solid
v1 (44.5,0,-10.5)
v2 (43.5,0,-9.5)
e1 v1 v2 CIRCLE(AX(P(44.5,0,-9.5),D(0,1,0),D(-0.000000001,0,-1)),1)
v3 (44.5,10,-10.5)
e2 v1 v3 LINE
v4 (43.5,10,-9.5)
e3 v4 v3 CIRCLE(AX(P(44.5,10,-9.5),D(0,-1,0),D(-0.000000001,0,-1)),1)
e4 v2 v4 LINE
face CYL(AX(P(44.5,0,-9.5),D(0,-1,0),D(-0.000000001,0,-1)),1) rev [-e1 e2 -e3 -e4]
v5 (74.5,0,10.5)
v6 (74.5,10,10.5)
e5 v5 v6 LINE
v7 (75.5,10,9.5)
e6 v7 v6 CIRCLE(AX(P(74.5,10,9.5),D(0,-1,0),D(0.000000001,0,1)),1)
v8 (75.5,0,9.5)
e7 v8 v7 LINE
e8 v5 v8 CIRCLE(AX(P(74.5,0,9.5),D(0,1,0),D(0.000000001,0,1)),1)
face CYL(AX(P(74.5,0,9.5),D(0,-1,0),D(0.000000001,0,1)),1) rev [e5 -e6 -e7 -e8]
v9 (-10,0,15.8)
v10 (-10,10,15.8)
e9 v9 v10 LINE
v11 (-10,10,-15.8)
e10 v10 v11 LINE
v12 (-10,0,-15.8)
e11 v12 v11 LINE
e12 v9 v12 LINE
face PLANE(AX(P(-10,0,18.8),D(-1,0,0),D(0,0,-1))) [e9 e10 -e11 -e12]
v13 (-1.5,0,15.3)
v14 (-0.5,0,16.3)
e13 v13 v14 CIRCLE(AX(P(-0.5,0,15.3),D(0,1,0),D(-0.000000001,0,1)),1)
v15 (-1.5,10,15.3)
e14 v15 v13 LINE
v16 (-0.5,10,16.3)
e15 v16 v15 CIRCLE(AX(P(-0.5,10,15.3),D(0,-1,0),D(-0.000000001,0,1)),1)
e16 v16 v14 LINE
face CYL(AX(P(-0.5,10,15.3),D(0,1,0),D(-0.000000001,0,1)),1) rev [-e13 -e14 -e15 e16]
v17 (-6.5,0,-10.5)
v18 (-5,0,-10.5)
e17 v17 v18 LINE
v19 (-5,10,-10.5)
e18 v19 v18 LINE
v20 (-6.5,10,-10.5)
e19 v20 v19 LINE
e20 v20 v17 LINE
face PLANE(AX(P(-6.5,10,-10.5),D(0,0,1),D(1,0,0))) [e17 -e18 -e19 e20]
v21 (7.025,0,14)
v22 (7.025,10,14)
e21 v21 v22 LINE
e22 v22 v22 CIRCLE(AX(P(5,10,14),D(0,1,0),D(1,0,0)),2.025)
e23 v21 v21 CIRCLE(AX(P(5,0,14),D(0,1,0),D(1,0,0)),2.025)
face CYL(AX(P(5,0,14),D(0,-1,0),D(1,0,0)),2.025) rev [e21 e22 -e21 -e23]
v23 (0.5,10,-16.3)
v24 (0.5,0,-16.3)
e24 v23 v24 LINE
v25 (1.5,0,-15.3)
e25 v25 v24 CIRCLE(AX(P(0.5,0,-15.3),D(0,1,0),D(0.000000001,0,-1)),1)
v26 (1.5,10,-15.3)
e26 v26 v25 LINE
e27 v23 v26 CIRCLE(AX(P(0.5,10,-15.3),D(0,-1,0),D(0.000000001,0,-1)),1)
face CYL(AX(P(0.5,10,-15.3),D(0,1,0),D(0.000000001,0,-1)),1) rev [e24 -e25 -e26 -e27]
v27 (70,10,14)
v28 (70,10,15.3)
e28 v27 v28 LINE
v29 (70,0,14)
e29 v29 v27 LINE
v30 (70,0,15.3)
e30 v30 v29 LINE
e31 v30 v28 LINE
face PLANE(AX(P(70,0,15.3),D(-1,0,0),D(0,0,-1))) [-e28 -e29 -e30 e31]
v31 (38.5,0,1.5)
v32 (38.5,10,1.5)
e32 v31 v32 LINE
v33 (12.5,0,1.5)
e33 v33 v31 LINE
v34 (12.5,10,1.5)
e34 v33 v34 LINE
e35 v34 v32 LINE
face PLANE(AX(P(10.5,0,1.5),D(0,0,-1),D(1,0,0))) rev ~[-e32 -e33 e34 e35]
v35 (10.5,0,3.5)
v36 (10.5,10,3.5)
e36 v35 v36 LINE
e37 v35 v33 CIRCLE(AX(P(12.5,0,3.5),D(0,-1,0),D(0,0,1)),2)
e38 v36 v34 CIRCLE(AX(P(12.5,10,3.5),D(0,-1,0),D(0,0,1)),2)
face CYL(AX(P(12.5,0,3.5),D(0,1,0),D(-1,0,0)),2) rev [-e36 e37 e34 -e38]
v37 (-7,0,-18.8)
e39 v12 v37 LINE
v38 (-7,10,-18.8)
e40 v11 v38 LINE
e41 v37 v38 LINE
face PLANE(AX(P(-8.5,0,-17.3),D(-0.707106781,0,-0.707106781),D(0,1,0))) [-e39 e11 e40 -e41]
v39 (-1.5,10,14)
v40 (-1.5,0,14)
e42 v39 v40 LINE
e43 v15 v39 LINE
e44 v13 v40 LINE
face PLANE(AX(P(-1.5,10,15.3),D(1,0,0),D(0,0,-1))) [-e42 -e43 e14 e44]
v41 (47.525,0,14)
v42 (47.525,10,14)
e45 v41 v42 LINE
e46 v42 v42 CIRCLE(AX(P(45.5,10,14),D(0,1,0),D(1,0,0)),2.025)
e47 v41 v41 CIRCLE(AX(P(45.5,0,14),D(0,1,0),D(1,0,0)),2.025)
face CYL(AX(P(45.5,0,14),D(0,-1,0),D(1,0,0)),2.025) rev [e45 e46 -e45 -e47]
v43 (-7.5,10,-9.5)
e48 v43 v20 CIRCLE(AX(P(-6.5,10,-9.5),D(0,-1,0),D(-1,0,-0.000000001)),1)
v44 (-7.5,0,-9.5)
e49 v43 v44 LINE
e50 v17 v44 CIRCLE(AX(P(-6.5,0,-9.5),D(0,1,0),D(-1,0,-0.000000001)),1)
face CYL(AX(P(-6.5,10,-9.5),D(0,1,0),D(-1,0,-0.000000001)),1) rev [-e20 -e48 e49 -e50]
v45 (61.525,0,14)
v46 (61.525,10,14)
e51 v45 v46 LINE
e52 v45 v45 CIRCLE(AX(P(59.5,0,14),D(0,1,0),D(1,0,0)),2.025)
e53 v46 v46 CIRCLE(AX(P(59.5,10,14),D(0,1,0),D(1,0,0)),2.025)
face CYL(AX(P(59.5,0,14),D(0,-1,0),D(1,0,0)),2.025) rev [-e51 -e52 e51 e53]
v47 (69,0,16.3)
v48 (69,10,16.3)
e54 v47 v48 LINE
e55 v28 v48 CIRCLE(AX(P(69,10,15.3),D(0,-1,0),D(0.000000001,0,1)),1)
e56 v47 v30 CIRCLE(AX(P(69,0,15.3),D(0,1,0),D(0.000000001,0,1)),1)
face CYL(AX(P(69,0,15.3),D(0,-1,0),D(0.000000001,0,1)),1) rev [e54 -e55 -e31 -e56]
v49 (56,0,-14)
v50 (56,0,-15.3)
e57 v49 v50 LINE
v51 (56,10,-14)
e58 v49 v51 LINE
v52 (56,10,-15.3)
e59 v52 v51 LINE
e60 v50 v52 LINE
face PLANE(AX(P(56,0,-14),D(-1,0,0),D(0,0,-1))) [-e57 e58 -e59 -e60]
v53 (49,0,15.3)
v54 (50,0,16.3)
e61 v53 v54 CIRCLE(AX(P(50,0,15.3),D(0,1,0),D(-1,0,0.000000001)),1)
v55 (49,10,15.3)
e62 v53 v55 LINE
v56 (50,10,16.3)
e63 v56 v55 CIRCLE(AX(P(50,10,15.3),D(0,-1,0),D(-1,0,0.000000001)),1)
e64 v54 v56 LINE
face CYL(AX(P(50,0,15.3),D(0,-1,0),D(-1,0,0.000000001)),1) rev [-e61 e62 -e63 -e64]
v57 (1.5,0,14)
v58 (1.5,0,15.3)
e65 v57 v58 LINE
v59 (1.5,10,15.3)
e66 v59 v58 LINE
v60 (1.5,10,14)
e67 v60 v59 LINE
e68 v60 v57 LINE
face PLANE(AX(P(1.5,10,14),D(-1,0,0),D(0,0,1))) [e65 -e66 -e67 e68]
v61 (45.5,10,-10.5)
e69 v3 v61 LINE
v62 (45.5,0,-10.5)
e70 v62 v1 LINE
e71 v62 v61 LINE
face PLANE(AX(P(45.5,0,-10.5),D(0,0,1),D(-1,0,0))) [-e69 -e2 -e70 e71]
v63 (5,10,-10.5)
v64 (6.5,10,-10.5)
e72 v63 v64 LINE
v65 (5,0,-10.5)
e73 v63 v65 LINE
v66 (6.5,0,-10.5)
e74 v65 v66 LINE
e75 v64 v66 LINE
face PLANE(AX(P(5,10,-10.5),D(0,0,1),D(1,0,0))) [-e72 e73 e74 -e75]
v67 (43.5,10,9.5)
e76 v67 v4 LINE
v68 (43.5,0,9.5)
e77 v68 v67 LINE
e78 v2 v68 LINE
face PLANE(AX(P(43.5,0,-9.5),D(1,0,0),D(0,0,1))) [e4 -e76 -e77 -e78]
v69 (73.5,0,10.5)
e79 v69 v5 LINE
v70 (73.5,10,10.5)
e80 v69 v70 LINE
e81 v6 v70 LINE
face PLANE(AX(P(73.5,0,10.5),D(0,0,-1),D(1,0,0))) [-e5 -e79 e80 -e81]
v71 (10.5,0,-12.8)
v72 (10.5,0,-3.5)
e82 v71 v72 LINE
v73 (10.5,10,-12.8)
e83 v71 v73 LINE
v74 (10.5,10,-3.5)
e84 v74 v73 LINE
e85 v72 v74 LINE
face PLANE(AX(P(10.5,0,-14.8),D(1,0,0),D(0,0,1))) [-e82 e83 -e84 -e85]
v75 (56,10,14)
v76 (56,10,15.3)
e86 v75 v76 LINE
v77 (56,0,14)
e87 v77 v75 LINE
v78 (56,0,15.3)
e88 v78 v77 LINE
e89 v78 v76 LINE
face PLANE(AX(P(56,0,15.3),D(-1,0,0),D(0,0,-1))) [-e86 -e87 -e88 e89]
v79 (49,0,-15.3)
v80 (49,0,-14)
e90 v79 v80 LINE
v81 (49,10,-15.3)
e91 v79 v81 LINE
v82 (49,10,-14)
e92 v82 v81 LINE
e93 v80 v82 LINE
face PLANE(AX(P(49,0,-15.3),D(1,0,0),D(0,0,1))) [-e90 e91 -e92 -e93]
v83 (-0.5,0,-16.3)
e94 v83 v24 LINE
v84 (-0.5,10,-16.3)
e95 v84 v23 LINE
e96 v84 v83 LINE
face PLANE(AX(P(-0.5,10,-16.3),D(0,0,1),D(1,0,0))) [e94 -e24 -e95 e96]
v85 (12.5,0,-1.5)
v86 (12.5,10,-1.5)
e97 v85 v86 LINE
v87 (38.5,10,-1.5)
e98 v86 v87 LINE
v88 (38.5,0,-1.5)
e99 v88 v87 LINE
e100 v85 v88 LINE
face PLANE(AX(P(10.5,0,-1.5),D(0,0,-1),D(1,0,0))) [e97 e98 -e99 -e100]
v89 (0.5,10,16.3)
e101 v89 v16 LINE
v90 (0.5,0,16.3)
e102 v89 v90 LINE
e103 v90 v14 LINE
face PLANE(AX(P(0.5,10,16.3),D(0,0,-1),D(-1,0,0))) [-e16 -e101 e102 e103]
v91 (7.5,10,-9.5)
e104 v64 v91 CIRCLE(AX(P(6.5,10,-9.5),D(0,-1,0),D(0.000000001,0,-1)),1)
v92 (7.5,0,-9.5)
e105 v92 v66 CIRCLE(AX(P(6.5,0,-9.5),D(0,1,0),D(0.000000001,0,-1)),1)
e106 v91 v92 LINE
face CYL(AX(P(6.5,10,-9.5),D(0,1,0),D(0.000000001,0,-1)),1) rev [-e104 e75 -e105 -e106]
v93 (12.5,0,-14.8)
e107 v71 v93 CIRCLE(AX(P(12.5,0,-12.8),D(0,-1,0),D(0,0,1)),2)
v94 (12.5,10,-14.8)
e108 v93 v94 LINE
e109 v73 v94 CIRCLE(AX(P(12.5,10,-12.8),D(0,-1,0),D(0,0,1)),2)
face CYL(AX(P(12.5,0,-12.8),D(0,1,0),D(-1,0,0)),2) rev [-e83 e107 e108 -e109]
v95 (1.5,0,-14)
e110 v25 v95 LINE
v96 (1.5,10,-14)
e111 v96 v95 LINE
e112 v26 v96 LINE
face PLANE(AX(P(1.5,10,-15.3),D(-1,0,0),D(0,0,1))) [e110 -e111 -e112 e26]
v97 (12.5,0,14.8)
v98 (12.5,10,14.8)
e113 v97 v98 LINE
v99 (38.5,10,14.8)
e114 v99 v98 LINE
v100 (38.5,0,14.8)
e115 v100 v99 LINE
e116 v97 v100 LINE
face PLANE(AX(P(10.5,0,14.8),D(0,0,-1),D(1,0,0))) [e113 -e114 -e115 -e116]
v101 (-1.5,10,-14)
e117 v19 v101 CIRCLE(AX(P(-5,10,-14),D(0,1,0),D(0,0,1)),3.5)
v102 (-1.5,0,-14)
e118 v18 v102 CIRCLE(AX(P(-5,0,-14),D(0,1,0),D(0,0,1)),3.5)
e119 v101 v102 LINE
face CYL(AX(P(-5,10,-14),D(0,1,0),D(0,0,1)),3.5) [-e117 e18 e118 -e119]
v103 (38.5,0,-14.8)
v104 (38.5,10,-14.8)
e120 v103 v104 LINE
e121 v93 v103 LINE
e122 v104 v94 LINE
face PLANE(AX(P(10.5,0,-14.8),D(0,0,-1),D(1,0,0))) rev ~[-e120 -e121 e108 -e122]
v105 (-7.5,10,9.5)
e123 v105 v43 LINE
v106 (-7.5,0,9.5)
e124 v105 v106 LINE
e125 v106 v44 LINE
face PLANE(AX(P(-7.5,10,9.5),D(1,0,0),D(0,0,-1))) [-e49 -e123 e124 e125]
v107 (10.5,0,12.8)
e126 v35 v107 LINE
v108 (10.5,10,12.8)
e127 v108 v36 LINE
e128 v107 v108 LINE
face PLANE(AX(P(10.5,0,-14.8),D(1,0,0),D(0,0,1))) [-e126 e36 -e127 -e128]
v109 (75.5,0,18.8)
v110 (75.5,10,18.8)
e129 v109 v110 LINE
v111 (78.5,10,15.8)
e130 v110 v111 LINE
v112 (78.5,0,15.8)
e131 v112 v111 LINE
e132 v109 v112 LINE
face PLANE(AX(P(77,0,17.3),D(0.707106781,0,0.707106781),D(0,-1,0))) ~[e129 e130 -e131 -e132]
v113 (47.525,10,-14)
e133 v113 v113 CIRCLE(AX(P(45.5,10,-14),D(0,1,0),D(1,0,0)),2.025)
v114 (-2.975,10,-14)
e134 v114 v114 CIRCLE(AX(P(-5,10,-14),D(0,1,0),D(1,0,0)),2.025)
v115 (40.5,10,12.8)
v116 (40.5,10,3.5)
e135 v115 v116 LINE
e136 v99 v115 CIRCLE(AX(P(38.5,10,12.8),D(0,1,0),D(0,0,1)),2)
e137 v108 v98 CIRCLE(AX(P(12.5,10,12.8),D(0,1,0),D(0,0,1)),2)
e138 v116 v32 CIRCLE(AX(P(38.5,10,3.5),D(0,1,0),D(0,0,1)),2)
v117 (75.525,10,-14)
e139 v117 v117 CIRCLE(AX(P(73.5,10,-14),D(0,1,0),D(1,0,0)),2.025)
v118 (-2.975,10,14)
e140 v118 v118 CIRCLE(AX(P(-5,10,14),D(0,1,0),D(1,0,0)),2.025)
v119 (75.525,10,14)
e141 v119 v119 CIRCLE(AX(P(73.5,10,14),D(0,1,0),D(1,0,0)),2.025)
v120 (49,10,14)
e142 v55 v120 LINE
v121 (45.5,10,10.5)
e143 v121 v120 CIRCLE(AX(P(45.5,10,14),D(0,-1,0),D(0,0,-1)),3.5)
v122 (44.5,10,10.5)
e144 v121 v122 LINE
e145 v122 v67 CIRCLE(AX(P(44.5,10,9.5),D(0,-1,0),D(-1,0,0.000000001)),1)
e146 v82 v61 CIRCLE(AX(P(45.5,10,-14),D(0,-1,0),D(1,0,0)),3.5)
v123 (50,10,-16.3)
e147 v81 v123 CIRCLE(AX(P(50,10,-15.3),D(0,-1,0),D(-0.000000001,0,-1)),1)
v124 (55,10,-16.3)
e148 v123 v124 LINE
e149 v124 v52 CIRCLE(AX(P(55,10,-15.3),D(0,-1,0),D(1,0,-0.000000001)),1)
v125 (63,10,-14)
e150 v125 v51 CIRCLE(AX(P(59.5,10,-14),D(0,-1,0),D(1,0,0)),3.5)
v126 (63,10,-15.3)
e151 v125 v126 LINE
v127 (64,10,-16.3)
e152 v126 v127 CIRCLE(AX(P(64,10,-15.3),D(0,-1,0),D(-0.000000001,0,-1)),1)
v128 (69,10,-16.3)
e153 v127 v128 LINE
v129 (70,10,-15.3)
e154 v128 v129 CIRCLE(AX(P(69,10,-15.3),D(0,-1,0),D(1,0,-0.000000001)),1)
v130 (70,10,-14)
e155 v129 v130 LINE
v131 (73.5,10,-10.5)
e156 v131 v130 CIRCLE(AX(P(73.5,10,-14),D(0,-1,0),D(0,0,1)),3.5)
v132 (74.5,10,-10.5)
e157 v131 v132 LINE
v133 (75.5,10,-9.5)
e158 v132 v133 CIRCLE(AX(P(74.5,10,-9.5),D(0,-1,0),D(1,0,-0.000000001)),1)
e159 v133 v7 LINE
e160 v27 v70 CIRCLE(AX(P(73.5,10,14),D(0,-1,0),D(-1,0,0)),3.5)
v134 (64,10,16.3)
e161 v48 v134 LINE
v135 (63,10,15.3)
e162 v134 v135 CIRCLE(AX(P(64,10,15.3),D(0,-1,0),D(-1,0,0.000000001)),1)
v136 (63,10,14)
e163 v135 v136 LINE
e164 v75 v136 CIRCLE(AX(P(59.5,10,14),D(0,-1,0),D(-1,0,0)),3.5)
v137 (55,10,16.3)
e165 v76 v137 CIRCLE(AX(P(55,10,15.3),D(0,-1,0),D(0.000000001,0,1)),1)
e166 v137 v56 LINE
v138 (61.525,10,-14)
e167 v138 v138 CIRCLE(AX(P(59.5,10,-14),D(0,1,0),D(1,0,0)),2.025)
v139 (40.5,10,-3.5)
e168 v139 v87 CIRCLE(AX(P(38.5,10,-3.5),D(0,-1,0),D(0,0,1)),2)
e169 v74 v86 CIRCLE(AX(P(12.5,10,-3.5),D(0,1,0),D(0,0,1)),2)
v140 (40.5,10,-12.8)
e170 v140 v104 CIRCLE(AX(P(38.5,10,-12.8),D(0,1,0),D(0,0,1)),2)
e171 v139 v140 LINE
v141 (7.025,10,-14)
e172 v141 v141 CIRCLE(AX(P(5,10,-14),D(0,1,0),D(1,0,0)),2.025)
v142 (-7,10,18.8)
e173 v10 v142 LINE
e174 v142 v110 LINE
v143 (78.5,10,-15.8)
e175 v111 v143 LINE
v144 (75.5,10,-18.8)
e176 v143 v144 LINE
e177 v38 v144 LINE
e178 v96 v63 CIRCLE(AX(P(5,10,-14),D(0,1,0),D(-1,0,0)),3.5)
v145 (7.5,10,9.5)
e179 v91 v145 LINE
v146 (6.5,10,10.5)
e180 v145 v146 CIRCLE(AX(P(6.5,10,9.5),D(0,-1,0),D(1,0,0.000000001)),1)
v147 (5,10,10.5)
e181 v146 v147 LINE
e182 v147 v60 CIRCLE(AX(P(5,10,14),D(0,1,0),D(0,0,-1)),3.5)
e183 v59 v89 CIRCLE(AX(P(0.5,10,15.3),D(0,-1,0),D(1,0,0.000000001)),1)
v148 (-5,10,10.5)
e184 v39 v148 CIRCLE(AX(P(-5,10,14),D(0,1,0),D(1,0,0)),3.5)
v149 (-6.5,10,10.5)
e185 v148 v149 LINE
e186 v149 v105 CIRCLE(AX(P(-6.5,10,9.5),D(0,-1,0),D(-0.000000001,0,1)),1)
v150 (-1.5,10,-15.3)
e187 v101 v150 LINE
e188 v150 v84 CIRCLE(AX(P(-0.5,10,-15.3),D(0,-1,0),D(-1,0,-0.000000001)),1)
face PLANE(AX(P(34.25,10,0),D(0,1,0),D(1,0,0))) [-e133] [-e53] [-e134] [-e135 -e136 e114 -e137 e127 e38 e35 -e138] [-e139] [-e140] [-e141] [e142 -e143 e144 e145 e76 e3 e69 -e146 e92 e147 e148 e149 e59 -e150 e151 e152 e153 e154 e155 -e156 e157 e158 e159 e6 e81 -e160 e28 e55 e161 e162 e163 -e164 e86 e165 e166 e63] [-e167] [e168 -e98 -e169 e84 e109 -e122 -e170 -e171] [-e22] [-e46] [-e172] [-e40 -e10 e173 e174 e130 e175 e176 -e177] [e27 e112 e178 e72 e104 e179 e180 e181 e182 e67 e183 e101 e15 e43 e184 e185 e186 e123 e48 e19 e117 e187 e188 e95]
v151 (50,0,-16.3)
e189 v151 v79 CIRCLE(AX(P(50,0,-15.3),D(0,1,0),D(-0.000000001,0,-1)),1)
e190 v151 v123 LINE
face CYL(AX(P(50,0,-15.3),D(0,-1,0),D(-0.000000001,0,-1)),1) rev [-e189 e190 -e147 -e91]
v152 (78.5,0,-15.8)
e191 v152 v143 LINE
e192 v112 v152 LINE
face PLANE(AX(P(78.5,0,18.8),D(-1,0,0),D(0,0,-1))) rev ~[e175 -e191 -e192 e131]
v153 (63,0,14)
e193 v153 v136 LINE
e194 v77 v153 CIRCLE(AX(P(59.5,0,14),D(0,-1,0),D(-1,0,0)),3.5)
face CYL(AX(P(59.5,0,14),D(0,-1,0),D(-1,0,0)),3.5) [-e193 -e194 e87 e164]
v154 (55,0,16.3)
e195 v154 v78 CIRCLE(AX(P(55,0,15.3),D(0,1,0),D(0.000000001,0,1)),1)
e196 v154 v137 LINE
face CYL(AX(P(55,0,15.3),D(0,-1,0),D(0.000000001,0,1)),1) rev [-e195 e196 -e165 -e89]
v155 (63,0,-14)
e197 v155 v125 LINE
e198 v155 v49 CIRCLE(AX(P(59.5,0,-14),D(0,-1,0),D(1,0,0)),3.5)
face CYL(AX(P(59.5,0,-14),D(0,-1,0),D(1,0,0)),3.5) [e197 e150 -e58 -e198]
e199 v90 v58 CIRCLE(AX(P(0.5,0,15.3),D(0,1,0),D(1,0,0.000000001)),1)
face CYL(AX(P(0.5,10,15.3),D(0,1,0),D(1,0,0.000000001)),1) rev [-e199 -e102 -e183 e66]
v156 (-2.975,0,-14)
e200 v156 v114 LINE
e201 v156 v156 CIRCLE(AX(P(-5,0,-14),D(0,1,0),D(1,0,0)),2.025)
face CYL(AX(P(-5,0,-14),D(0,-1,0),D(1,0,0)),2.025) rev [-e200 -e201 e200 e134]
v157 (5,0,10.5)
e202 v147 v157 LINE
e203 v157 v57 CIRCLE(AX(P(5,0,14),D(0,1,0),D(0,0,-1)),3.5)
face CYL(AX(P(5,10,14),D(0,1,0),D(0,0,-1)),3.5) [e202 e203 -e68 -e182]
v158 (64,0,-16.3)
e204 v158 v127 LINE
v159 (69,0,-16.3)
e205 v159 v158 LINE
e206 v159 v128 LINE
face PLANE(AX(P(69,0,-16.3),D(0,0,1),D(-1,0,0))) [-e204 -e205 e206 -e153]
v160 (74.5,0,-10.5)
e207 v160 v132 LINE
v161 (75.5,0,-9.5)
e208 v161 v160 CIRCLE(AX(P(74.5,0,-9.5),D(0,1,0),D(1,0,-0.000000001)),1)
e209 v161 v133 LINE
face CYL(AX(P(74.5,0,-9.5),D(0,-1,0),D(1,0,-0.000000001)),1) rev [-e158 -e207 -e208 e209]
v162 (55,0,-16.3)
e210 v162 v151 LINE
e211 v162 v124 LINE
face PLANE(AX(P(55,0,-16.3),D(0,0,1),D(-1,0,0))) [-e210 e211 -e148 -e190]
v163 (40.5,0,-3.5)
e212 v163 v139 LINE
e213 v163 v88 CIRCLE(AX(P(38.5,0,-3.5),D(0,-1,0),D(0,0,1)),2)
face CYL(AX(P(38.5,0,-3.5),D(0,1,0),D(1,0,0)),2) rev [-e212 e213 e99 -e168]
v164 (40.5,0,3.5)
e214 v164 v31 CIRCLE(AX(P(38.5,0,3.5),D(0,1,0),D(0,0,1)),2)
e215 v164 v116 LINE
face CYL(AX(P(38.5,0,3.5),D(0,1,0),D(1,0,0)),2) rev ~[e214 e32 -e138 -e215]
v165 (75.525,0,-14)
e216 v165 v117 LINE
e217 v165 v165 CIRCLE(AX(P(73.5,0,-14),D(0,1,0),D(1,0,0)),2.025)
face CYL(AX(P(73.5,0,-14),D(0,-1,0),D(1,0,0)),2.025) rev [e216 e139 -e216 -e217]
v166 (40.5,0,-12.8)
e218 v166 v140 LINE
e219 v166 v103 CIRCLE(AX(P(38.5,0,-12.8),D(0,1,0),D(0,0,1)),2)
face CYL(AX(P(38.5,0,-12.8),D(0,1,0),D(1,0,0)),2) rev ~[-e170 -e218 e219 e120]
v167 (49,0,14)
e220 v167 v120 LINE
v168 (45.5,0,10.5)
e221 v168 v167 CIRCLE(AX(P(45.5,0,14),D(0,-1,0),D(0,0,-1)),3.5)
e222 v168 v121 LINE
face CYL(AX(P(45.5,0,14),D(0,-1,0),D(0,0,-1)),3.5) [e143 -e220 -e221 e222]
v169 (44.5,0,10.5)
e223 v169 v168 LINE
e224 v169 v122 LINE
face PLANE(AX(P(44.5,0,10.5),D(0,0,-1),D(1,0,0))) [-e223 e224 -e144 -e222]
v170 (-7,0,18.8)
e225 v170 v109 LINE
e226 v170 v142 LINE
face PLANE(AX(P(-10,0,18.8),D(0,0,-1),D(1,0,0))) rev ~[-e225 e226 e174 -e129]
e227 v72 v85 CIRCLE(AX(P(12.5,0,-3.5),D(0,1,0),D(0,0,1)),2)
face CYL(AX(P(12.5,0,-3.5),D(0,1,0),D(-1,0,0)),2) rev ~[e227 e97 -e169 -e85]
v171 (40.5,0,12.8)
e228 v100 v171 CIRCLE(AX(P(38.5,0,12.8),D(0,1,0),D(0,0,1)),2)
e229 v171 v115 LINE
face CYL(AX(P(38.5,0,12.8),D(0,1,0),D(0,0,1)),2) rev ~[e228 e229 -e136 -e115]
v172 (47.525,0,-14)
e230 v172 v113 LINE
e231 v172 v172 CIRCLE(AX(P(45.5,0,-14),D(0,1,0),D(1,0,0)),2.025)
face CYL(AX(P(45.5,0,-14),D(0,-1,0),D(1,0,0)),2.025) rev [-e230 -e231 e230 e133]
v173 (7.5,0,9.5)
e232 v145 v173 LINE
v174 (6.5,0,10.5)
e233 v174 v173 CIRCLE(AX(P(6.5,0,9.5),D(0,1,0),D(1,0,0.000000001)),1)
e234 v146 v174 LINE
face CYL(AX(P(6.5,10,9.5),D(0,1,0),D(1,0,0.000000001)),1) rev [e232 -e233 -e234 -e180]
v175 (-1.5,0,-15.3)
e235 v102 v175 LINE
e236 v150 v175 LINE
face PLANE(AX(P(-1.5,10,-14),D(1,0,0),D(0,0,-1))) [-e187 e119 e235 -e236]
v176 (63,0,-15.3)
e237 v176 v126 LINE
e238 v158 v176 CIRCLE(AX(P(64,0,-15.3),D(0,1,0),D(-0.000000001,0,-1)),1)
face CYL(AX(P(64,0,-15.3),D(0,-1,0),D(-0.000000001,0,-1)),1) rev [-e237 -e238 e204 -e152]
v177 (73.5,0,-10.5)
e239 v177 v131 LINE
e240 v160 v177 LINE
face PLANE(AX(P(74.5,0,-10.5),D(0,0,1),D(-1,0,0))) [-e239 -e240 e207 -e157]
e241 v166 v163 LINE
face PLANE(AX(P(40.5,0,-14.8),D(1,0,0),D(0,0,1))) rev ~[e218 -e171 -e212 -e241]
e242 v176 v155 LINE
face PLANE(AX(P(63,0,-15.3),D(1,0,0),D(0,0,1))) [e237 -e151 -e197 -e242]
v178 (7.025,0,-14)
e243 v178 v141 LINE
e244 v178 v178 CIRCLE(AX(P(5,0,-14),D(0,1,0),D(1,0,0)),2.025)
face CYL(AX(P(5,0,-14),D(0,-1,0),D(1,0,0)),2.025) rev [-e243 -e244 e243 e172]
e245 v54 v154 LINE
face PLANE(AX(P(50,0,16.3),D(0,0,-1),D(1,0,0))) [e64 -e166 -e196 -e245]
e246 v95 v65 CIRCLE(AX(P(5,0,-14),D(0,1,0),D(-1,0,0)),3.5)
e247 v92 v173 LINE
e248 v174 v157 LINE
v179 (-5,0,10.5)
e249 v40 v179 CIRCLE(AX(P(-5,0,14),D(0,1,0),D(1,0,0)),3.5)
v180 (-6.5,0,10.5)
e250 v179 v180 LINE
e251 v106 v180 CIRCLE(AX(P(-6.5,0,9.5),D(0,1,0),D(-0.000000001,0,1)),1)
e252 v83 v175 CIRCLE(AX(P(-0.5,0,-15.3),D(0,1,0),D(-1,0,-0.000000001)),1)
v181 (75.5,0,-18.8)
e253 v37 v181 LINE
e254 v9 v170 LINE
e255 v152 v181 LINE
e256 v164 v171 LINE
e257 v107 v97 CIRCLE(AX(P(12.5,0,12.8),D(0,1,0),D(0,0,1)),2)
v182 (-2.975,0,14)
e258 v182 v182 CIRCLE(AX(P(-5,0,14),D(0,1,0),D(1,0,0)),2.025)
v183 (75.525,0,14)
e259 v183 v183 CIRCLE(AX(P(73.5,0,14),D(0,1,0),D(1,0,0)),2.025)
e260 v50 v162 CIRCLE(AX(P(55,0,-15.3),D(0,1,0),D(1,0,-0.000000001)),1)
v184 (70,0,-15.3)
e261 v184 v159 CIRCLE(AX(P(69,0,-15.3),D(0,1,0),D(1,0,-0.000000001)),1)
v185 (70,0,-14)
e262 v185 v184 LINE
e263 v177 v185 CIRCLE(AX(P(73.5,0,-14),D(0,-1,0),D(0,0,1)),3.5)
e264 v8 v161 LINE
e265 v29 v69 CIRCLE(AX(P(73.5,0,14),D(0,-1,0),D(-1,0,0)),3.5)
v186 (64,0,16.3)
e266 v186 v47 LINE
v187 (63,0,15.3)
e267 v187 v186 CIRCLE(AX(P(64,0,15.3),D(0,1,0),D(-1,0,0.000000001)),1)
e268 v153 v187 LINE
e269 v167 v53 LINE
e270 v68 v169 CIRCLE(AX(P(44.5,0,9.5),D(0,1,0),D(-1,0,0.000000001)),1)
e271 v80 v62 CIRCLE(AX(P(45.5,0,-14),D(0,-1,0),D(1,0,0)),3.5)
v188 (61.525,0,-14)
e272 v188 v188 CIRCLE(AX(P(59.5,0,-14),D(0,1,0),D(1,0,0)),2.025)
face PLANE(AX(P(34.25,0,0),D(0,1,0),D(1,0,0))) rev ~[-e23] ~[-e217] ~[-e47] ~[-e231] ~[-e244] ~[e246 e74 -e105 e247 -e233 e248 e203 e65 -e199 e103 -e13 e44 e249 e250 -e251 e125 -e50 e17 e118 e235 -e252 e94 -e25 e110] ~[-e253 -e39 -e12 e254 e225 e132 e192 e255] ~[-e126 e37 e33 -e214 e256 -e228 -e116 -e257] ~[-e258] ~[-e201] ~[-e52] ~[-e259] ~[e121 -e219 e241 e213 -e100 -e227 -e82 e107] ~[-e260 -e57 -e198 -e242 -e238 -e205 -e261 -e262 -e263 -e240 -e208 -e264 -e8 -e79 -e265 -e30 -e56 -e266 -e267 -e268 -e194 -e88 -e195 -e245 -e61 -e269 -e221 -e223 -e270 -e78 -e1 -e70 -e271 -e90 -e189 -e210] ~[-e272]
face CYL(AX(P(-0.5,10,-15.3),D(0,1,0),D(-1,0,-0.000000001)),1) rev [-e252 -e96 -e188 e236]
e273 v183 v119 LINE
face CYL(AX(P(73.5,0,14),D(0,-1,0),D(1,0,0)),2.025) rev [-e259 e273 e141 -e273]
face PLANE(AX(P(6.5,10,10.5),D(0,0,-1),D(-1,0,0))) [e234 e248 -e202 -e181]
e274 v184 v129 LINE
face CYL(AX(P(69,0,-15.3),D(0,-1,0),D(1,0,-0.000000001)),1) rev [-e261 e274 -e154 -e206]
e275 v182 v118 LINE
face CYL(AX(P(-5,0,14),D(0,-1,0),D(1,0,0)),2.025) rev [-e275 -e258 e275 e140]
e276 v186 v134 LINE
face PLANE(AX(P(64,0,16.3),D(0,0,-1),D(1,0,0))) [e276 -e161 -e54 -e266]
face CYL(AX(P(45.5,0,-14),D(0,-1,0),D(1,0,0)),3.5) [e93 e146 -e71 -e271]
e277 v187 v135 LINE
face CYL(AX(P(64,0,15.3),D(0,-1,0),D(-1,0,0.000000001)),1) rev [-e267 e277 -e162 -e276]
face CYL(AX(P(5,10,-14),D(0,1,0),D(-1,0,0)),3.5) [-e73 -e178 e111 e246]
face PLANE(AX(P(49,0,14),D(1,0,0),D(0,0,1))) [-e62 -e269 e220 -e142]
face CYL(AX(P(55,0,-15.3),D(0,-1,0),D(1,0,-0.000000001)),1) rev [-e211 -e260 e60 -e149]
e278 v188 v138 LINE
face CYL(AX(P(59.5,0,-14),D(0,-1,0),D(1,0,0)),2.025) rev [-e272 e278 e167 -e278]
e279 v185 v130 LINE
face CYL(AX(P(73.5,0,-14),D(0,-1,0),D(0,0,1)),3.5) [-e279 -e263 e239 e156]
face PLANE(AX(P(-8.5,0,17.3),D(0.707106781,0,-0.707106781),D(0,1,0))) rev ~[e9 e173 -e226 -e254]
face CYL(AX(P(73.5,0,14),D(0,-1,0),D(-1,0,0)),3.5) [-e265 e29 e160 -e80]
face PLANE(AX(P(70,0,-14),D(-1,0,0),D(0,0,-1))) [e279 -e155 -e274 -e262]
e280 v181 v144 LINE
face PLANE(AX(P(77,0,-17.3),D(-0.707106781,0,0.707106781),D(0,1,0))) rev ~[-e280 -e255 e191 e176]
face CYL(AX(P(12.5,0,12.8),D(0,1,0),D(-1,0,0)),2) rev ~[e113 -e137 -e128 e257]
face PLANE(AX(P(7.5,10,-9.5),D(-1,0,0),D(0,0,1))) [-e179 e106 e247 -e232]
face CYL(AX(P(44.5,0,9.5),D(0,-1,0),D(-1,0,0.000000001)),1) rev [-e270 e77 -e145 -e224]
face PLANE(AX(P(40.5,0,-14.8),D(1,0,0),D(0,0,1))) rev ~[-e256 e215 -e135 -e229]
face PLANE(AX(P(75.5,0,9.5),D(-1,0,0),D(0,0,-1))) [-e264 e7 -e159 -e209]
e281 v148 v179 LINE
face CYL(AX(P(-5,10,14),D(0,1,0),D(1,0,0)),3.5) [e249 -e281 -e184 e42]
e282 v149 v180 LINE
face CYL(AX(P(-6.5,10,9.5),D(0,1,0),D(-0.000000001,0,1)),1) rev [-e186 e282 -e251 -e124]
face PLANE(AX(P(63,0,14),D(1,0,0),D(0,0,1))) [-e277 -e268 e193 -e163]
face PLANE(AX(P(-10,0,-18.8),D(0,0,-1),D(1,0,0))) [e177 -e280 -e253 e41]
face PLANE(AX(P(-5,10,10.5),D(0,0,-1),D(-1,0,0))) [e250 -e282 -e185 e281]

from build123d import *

# Parameters (mm, degrees)
SKETCH_1_W          = 88.5
SKETCH_1_H          = 37.6
SKETCH_1_R          = 2.025
EXTRUDE_1_DEPTH     = 10
CUT_EXTRUDE_1_DEPTH = 11
CUT_EXTRUDE_2_DEPTH = 11
SKETCH_4_W          = 30
SKETCH_4_H          = 29.6
CUT_EXTRUDE_3_DEPTH = 11
SKETCH_5_W          = 30
SKETCH_5_H          = 3
EXTRUDE_2_DEPTH     = 10
FILLET_1_R          = 2
CHAMFER_1_SIZE      = 3


with BuildPart() as part:
    # 草图1 → 凸台-拉伸1 (new body)
    with BuildSketch(Plane(origin=(0, 0, 0), x_dir=(1, 0, 0), z_dir=(0, 1, 0))):
        with Locations((34.25, 0)):
            Rectangle(SKETCH_1_W, SKETCH_1_H)
        with Locations((-5, 14)):
            Circle(SKETCH_1_R, mode=Mode.SUBTRACT)
        with Locations((5, 14)):
            Circle(SKETCH_1_R, mode=Mode.SUBTRACT)
        with Locations((5, -14)):
            Circle(SKETCH_1_R, mode=Mode.SUBTRACT)
        with Locations((-5, -14)):
            Circle(SKETCH_1_R, mode=Mode.SUBTRACT)
        with Locations((45.5, 14)):
            Circle(SKETCH_1_R, mode=Mode.SUBTRACT)
        with Locations((59.5, 14)):
            Circle(SKETCH_1_R, mode=Mode.SUBTRACT)
        with Locations((73.5, 14)):
            Circle(SKETCH_1_R, mode=Mode.SUBTRACT)
        with Locations((73.5, -14)):
            Circle(SKETCH_1_R, mode=Mode.SUBTRACT)
        with Locations((59.5, -14)):
            Circle(SKETCH_1_R, mode=Mode.SUBTRACT)
        with Locations((45.5, -14)):
            Circle(SKETCH_1_R, mode=Mode.SUBTRACT)
    extrude(amount=EXTRUDE_1_DEPTH)

    # 草图2 → 切除-拉伸1 (cut, through all)
    with BuildSketch(Plane(origin=(0, 10, 0), x_dir=(1, 0, 0), z_dir=(0, 1, 0))):
        with BuildLine():
            Line((-7.5, -9.5), (-7.5, 9.5))
            ThreePointArc((-7.5, 9.5), (-7.207106781, 10.207106781), (-6.5, 10.5))
            Line((-6.5, 10.5), (-5, 10.5))
            ThreePointArc((-5, 10.5), (-2.525126266, 11.525126266), (-1.5, 14))
            Line((-1.5, 14), (-1.5, 15.3))
            ThreePointArc((-1.5, 15.3), (-1.207106781, 16.007106781), (-0.5, 16.3))
            Line((-0.5, 16.3), (0.5, 16.3))
            ThreePointArc((0.5, 16.3), (1.207106781, 16.007106781), (1.5, 15.3))
            Line((1.5, 15.3), (1.5, 14))
            ThreePointArc((1.5, 14), (2.525126266, 11.525126266), (5, 10.5))
            Line((5, 10.5), (6.5, 10.5))
            ThreePointArc((6.5, 10.5), (7.207106781, 10.207106781), (7.5, 9.5))
            Line((7.5, 9.5), (7.5, -9.5))
            ThreePointArc((7.5, -9.5), (7.207106781, -10.207106781), (6.5, -10.5))
            Line((6.5, -10.5), (5, -10.5))
            ThreePointArc((5, -10.5), (2.525126266, -11.525126266), (1.5, -14))
            Line((1.5, -14), (1.5, -15.3))
            ThreePointArc((1.5, -15.3), (1.207106781, -16.007106781), (0.5, -16.3))
            Line((0.5, -16.3), (-0.5, -16.3))
            ThreePointArc((-0.5, -16.3), (-1.207106781, -16.007106781), (-1.5, -15.3))
            Line((-1.5, -15.3), (-1.5, -14))
            ThreePointArc((-1.5, -14), (-2.525126266, -11.525126266), (-5, -10.5))
            Line((-5, -10.5), (-6.5, -10.5))
            ThreePointArc((-6.5, -10.5), (-7.207106781, -10.207106781), (-7.5, -9.5))
        make_face()
    extrude(amount=-CUT_EXTRUDE_1_DEPTH, mode=Mode.SUBTRACT)

    # 草图3 → 切除-拉伸2 (cut, through all)
    with BuildSketch(Plane.XZ):
        with BuildLine():
            Line((43.5, -9.5), (43.5, 9.5))
            ThreePointArc((43.5, 9.5), (43.792893219, 10.207106781), (44.5, 10.5))
            Line((44.5, 10.5), (45.5, 10.5))
            ThreePointArc((45.5, 10.5), (47.974873734, 11.525126266), (49, 14))
            Line((49, 14), (49, 15.3))
            ThreePointArc((49, 15.3), (49.292893219, 16.007106781), (50, 16.3))
            Line((50, 16.3), (55, 16.3))
            ThreePointArc((55, 16.3), (55.707106781, 16.007106781), (56, 15.3))
            Line((56, 15.3), (56, 14))
            ThreePointArc((56, 14), (59.5, 10.5), (63, 14))
            Line((63, 14), (63, 15.3))
            ThreePointArc((63, 15.3), (63.292893219, 16.007106781), (64, 16.3))
            Line((64, 16.3), (69, 16.3))
            ThreePointArc((69, 16.3), (69.707106781, 16.007106781), (70, 15.3))
            Line((70, 15.3), (70, 14))
            ThreePointArc((70, 14), (71.025126266, 11.525126266), (73.5, 10.5))
            Line((73.5, 10.5), (74.5, 10.5))
            ThreePointArc((74.5, 10.5), (75.207106781, 10.207106781), (75.5, 9.5))
            Line((75.5, 9.5), (75.5, -9.5))
            ThreePointArc((75.5, -9.5), (75.207106781, -10.207106781), (74.5, -10.5))
            Line((74.5, -10.5), (73.5, -10.5))
            ThreePointArc((73.5, -10.5), (71.025126266, -11.525126266), (70, -14))
            Line((70, -14), (70, -15.3))
            ThreePointArc((70, -15.3), (69.707106781, -16.007106781), (69, -16.3))
            Line((69, -16.3), (64, -16.3))
            ThreePointArc((64, -16.3), (63.292893219, -16.007106781), (63, -15.3))
            Line((63, -15.3), (63, -14))
            ThreePointArc((63, -14), (59.5, -10.5), (56, -14))
            Line((56, -14), (56, -15.3))
            ThreePointArc((56, -15.3), (55.707106781, -16.007106781), (55, -16.3))
            Line((55, -16.3), (50, -16.3))
            ThreePointArc((50, -16.3), (49.292893219, -16.007106781), (49, -15.3))
            Line((49, -15.3), (49, -14))
            ThreePointArc((49, -14), (47.974873734, -11.525126266), (45.5, -10.5))
            Line((45.5, -10.5), (44.5, -10.5))
            ThreePointArc((44.5, -10.5), (43.792893219, -10.207106781), (43.5, -9.5))
        make_face()
    extrude(amount=-CUT_EXTRUDE_2_DEPTH, mode=Mode.SUBTRACT)

    # 草图4 → 切除-拉伸3 (cut, through all)
    with BuildSketch(Plane.XZ):
        with Locations((25.5, 0)):
            Rectangle(SKETCH_4_W, SKETCH_4_H)
    extrude(amount=-CUT_EXTRUDE_3_DEPTH, mode=Mode.SUBTRACT)

    # 草图5 → 凸台-拉伸2 (add)
    with BuildSketch(Plane.XZ):
        with Locations((25.5, 0)):
            Rectangle(SKETCH_5_W, SKETCH_5_H)
    extrude(amount=-EXTRUDE_2_DEPTH)

    # 圆角1
    fillet_1_edges = [part.edges().sort_by_distance(p)[0] for p in [
        (40.5, 5, 14.8),
        (40.5, 5, -14.8),
        (10.5, 5, -14.8),
        (10.5, 5, 14.8),
        (40.5, 5, -1.5),
        (40.5, 5, 1.5),
        (10.5, 5, 1.5),
        (10.5, 5, -1.5),
    ]]
    fillet(fillet_1_edges, radius=FILLET_1_R)

    # 倒角1
    chamfer_1_edges = [part.edges().sort_by_distance(p)[0] for p in [
        (-10, 5, -18.8),
        (78.5, 5, -18.8),
        (78.5, 5, 18.8),
        (-10, 5, 18.8),
    ]]
    chamfer(chamfer_1_edges, length=CHAMFER_1_SIZE)


solid = part.part
